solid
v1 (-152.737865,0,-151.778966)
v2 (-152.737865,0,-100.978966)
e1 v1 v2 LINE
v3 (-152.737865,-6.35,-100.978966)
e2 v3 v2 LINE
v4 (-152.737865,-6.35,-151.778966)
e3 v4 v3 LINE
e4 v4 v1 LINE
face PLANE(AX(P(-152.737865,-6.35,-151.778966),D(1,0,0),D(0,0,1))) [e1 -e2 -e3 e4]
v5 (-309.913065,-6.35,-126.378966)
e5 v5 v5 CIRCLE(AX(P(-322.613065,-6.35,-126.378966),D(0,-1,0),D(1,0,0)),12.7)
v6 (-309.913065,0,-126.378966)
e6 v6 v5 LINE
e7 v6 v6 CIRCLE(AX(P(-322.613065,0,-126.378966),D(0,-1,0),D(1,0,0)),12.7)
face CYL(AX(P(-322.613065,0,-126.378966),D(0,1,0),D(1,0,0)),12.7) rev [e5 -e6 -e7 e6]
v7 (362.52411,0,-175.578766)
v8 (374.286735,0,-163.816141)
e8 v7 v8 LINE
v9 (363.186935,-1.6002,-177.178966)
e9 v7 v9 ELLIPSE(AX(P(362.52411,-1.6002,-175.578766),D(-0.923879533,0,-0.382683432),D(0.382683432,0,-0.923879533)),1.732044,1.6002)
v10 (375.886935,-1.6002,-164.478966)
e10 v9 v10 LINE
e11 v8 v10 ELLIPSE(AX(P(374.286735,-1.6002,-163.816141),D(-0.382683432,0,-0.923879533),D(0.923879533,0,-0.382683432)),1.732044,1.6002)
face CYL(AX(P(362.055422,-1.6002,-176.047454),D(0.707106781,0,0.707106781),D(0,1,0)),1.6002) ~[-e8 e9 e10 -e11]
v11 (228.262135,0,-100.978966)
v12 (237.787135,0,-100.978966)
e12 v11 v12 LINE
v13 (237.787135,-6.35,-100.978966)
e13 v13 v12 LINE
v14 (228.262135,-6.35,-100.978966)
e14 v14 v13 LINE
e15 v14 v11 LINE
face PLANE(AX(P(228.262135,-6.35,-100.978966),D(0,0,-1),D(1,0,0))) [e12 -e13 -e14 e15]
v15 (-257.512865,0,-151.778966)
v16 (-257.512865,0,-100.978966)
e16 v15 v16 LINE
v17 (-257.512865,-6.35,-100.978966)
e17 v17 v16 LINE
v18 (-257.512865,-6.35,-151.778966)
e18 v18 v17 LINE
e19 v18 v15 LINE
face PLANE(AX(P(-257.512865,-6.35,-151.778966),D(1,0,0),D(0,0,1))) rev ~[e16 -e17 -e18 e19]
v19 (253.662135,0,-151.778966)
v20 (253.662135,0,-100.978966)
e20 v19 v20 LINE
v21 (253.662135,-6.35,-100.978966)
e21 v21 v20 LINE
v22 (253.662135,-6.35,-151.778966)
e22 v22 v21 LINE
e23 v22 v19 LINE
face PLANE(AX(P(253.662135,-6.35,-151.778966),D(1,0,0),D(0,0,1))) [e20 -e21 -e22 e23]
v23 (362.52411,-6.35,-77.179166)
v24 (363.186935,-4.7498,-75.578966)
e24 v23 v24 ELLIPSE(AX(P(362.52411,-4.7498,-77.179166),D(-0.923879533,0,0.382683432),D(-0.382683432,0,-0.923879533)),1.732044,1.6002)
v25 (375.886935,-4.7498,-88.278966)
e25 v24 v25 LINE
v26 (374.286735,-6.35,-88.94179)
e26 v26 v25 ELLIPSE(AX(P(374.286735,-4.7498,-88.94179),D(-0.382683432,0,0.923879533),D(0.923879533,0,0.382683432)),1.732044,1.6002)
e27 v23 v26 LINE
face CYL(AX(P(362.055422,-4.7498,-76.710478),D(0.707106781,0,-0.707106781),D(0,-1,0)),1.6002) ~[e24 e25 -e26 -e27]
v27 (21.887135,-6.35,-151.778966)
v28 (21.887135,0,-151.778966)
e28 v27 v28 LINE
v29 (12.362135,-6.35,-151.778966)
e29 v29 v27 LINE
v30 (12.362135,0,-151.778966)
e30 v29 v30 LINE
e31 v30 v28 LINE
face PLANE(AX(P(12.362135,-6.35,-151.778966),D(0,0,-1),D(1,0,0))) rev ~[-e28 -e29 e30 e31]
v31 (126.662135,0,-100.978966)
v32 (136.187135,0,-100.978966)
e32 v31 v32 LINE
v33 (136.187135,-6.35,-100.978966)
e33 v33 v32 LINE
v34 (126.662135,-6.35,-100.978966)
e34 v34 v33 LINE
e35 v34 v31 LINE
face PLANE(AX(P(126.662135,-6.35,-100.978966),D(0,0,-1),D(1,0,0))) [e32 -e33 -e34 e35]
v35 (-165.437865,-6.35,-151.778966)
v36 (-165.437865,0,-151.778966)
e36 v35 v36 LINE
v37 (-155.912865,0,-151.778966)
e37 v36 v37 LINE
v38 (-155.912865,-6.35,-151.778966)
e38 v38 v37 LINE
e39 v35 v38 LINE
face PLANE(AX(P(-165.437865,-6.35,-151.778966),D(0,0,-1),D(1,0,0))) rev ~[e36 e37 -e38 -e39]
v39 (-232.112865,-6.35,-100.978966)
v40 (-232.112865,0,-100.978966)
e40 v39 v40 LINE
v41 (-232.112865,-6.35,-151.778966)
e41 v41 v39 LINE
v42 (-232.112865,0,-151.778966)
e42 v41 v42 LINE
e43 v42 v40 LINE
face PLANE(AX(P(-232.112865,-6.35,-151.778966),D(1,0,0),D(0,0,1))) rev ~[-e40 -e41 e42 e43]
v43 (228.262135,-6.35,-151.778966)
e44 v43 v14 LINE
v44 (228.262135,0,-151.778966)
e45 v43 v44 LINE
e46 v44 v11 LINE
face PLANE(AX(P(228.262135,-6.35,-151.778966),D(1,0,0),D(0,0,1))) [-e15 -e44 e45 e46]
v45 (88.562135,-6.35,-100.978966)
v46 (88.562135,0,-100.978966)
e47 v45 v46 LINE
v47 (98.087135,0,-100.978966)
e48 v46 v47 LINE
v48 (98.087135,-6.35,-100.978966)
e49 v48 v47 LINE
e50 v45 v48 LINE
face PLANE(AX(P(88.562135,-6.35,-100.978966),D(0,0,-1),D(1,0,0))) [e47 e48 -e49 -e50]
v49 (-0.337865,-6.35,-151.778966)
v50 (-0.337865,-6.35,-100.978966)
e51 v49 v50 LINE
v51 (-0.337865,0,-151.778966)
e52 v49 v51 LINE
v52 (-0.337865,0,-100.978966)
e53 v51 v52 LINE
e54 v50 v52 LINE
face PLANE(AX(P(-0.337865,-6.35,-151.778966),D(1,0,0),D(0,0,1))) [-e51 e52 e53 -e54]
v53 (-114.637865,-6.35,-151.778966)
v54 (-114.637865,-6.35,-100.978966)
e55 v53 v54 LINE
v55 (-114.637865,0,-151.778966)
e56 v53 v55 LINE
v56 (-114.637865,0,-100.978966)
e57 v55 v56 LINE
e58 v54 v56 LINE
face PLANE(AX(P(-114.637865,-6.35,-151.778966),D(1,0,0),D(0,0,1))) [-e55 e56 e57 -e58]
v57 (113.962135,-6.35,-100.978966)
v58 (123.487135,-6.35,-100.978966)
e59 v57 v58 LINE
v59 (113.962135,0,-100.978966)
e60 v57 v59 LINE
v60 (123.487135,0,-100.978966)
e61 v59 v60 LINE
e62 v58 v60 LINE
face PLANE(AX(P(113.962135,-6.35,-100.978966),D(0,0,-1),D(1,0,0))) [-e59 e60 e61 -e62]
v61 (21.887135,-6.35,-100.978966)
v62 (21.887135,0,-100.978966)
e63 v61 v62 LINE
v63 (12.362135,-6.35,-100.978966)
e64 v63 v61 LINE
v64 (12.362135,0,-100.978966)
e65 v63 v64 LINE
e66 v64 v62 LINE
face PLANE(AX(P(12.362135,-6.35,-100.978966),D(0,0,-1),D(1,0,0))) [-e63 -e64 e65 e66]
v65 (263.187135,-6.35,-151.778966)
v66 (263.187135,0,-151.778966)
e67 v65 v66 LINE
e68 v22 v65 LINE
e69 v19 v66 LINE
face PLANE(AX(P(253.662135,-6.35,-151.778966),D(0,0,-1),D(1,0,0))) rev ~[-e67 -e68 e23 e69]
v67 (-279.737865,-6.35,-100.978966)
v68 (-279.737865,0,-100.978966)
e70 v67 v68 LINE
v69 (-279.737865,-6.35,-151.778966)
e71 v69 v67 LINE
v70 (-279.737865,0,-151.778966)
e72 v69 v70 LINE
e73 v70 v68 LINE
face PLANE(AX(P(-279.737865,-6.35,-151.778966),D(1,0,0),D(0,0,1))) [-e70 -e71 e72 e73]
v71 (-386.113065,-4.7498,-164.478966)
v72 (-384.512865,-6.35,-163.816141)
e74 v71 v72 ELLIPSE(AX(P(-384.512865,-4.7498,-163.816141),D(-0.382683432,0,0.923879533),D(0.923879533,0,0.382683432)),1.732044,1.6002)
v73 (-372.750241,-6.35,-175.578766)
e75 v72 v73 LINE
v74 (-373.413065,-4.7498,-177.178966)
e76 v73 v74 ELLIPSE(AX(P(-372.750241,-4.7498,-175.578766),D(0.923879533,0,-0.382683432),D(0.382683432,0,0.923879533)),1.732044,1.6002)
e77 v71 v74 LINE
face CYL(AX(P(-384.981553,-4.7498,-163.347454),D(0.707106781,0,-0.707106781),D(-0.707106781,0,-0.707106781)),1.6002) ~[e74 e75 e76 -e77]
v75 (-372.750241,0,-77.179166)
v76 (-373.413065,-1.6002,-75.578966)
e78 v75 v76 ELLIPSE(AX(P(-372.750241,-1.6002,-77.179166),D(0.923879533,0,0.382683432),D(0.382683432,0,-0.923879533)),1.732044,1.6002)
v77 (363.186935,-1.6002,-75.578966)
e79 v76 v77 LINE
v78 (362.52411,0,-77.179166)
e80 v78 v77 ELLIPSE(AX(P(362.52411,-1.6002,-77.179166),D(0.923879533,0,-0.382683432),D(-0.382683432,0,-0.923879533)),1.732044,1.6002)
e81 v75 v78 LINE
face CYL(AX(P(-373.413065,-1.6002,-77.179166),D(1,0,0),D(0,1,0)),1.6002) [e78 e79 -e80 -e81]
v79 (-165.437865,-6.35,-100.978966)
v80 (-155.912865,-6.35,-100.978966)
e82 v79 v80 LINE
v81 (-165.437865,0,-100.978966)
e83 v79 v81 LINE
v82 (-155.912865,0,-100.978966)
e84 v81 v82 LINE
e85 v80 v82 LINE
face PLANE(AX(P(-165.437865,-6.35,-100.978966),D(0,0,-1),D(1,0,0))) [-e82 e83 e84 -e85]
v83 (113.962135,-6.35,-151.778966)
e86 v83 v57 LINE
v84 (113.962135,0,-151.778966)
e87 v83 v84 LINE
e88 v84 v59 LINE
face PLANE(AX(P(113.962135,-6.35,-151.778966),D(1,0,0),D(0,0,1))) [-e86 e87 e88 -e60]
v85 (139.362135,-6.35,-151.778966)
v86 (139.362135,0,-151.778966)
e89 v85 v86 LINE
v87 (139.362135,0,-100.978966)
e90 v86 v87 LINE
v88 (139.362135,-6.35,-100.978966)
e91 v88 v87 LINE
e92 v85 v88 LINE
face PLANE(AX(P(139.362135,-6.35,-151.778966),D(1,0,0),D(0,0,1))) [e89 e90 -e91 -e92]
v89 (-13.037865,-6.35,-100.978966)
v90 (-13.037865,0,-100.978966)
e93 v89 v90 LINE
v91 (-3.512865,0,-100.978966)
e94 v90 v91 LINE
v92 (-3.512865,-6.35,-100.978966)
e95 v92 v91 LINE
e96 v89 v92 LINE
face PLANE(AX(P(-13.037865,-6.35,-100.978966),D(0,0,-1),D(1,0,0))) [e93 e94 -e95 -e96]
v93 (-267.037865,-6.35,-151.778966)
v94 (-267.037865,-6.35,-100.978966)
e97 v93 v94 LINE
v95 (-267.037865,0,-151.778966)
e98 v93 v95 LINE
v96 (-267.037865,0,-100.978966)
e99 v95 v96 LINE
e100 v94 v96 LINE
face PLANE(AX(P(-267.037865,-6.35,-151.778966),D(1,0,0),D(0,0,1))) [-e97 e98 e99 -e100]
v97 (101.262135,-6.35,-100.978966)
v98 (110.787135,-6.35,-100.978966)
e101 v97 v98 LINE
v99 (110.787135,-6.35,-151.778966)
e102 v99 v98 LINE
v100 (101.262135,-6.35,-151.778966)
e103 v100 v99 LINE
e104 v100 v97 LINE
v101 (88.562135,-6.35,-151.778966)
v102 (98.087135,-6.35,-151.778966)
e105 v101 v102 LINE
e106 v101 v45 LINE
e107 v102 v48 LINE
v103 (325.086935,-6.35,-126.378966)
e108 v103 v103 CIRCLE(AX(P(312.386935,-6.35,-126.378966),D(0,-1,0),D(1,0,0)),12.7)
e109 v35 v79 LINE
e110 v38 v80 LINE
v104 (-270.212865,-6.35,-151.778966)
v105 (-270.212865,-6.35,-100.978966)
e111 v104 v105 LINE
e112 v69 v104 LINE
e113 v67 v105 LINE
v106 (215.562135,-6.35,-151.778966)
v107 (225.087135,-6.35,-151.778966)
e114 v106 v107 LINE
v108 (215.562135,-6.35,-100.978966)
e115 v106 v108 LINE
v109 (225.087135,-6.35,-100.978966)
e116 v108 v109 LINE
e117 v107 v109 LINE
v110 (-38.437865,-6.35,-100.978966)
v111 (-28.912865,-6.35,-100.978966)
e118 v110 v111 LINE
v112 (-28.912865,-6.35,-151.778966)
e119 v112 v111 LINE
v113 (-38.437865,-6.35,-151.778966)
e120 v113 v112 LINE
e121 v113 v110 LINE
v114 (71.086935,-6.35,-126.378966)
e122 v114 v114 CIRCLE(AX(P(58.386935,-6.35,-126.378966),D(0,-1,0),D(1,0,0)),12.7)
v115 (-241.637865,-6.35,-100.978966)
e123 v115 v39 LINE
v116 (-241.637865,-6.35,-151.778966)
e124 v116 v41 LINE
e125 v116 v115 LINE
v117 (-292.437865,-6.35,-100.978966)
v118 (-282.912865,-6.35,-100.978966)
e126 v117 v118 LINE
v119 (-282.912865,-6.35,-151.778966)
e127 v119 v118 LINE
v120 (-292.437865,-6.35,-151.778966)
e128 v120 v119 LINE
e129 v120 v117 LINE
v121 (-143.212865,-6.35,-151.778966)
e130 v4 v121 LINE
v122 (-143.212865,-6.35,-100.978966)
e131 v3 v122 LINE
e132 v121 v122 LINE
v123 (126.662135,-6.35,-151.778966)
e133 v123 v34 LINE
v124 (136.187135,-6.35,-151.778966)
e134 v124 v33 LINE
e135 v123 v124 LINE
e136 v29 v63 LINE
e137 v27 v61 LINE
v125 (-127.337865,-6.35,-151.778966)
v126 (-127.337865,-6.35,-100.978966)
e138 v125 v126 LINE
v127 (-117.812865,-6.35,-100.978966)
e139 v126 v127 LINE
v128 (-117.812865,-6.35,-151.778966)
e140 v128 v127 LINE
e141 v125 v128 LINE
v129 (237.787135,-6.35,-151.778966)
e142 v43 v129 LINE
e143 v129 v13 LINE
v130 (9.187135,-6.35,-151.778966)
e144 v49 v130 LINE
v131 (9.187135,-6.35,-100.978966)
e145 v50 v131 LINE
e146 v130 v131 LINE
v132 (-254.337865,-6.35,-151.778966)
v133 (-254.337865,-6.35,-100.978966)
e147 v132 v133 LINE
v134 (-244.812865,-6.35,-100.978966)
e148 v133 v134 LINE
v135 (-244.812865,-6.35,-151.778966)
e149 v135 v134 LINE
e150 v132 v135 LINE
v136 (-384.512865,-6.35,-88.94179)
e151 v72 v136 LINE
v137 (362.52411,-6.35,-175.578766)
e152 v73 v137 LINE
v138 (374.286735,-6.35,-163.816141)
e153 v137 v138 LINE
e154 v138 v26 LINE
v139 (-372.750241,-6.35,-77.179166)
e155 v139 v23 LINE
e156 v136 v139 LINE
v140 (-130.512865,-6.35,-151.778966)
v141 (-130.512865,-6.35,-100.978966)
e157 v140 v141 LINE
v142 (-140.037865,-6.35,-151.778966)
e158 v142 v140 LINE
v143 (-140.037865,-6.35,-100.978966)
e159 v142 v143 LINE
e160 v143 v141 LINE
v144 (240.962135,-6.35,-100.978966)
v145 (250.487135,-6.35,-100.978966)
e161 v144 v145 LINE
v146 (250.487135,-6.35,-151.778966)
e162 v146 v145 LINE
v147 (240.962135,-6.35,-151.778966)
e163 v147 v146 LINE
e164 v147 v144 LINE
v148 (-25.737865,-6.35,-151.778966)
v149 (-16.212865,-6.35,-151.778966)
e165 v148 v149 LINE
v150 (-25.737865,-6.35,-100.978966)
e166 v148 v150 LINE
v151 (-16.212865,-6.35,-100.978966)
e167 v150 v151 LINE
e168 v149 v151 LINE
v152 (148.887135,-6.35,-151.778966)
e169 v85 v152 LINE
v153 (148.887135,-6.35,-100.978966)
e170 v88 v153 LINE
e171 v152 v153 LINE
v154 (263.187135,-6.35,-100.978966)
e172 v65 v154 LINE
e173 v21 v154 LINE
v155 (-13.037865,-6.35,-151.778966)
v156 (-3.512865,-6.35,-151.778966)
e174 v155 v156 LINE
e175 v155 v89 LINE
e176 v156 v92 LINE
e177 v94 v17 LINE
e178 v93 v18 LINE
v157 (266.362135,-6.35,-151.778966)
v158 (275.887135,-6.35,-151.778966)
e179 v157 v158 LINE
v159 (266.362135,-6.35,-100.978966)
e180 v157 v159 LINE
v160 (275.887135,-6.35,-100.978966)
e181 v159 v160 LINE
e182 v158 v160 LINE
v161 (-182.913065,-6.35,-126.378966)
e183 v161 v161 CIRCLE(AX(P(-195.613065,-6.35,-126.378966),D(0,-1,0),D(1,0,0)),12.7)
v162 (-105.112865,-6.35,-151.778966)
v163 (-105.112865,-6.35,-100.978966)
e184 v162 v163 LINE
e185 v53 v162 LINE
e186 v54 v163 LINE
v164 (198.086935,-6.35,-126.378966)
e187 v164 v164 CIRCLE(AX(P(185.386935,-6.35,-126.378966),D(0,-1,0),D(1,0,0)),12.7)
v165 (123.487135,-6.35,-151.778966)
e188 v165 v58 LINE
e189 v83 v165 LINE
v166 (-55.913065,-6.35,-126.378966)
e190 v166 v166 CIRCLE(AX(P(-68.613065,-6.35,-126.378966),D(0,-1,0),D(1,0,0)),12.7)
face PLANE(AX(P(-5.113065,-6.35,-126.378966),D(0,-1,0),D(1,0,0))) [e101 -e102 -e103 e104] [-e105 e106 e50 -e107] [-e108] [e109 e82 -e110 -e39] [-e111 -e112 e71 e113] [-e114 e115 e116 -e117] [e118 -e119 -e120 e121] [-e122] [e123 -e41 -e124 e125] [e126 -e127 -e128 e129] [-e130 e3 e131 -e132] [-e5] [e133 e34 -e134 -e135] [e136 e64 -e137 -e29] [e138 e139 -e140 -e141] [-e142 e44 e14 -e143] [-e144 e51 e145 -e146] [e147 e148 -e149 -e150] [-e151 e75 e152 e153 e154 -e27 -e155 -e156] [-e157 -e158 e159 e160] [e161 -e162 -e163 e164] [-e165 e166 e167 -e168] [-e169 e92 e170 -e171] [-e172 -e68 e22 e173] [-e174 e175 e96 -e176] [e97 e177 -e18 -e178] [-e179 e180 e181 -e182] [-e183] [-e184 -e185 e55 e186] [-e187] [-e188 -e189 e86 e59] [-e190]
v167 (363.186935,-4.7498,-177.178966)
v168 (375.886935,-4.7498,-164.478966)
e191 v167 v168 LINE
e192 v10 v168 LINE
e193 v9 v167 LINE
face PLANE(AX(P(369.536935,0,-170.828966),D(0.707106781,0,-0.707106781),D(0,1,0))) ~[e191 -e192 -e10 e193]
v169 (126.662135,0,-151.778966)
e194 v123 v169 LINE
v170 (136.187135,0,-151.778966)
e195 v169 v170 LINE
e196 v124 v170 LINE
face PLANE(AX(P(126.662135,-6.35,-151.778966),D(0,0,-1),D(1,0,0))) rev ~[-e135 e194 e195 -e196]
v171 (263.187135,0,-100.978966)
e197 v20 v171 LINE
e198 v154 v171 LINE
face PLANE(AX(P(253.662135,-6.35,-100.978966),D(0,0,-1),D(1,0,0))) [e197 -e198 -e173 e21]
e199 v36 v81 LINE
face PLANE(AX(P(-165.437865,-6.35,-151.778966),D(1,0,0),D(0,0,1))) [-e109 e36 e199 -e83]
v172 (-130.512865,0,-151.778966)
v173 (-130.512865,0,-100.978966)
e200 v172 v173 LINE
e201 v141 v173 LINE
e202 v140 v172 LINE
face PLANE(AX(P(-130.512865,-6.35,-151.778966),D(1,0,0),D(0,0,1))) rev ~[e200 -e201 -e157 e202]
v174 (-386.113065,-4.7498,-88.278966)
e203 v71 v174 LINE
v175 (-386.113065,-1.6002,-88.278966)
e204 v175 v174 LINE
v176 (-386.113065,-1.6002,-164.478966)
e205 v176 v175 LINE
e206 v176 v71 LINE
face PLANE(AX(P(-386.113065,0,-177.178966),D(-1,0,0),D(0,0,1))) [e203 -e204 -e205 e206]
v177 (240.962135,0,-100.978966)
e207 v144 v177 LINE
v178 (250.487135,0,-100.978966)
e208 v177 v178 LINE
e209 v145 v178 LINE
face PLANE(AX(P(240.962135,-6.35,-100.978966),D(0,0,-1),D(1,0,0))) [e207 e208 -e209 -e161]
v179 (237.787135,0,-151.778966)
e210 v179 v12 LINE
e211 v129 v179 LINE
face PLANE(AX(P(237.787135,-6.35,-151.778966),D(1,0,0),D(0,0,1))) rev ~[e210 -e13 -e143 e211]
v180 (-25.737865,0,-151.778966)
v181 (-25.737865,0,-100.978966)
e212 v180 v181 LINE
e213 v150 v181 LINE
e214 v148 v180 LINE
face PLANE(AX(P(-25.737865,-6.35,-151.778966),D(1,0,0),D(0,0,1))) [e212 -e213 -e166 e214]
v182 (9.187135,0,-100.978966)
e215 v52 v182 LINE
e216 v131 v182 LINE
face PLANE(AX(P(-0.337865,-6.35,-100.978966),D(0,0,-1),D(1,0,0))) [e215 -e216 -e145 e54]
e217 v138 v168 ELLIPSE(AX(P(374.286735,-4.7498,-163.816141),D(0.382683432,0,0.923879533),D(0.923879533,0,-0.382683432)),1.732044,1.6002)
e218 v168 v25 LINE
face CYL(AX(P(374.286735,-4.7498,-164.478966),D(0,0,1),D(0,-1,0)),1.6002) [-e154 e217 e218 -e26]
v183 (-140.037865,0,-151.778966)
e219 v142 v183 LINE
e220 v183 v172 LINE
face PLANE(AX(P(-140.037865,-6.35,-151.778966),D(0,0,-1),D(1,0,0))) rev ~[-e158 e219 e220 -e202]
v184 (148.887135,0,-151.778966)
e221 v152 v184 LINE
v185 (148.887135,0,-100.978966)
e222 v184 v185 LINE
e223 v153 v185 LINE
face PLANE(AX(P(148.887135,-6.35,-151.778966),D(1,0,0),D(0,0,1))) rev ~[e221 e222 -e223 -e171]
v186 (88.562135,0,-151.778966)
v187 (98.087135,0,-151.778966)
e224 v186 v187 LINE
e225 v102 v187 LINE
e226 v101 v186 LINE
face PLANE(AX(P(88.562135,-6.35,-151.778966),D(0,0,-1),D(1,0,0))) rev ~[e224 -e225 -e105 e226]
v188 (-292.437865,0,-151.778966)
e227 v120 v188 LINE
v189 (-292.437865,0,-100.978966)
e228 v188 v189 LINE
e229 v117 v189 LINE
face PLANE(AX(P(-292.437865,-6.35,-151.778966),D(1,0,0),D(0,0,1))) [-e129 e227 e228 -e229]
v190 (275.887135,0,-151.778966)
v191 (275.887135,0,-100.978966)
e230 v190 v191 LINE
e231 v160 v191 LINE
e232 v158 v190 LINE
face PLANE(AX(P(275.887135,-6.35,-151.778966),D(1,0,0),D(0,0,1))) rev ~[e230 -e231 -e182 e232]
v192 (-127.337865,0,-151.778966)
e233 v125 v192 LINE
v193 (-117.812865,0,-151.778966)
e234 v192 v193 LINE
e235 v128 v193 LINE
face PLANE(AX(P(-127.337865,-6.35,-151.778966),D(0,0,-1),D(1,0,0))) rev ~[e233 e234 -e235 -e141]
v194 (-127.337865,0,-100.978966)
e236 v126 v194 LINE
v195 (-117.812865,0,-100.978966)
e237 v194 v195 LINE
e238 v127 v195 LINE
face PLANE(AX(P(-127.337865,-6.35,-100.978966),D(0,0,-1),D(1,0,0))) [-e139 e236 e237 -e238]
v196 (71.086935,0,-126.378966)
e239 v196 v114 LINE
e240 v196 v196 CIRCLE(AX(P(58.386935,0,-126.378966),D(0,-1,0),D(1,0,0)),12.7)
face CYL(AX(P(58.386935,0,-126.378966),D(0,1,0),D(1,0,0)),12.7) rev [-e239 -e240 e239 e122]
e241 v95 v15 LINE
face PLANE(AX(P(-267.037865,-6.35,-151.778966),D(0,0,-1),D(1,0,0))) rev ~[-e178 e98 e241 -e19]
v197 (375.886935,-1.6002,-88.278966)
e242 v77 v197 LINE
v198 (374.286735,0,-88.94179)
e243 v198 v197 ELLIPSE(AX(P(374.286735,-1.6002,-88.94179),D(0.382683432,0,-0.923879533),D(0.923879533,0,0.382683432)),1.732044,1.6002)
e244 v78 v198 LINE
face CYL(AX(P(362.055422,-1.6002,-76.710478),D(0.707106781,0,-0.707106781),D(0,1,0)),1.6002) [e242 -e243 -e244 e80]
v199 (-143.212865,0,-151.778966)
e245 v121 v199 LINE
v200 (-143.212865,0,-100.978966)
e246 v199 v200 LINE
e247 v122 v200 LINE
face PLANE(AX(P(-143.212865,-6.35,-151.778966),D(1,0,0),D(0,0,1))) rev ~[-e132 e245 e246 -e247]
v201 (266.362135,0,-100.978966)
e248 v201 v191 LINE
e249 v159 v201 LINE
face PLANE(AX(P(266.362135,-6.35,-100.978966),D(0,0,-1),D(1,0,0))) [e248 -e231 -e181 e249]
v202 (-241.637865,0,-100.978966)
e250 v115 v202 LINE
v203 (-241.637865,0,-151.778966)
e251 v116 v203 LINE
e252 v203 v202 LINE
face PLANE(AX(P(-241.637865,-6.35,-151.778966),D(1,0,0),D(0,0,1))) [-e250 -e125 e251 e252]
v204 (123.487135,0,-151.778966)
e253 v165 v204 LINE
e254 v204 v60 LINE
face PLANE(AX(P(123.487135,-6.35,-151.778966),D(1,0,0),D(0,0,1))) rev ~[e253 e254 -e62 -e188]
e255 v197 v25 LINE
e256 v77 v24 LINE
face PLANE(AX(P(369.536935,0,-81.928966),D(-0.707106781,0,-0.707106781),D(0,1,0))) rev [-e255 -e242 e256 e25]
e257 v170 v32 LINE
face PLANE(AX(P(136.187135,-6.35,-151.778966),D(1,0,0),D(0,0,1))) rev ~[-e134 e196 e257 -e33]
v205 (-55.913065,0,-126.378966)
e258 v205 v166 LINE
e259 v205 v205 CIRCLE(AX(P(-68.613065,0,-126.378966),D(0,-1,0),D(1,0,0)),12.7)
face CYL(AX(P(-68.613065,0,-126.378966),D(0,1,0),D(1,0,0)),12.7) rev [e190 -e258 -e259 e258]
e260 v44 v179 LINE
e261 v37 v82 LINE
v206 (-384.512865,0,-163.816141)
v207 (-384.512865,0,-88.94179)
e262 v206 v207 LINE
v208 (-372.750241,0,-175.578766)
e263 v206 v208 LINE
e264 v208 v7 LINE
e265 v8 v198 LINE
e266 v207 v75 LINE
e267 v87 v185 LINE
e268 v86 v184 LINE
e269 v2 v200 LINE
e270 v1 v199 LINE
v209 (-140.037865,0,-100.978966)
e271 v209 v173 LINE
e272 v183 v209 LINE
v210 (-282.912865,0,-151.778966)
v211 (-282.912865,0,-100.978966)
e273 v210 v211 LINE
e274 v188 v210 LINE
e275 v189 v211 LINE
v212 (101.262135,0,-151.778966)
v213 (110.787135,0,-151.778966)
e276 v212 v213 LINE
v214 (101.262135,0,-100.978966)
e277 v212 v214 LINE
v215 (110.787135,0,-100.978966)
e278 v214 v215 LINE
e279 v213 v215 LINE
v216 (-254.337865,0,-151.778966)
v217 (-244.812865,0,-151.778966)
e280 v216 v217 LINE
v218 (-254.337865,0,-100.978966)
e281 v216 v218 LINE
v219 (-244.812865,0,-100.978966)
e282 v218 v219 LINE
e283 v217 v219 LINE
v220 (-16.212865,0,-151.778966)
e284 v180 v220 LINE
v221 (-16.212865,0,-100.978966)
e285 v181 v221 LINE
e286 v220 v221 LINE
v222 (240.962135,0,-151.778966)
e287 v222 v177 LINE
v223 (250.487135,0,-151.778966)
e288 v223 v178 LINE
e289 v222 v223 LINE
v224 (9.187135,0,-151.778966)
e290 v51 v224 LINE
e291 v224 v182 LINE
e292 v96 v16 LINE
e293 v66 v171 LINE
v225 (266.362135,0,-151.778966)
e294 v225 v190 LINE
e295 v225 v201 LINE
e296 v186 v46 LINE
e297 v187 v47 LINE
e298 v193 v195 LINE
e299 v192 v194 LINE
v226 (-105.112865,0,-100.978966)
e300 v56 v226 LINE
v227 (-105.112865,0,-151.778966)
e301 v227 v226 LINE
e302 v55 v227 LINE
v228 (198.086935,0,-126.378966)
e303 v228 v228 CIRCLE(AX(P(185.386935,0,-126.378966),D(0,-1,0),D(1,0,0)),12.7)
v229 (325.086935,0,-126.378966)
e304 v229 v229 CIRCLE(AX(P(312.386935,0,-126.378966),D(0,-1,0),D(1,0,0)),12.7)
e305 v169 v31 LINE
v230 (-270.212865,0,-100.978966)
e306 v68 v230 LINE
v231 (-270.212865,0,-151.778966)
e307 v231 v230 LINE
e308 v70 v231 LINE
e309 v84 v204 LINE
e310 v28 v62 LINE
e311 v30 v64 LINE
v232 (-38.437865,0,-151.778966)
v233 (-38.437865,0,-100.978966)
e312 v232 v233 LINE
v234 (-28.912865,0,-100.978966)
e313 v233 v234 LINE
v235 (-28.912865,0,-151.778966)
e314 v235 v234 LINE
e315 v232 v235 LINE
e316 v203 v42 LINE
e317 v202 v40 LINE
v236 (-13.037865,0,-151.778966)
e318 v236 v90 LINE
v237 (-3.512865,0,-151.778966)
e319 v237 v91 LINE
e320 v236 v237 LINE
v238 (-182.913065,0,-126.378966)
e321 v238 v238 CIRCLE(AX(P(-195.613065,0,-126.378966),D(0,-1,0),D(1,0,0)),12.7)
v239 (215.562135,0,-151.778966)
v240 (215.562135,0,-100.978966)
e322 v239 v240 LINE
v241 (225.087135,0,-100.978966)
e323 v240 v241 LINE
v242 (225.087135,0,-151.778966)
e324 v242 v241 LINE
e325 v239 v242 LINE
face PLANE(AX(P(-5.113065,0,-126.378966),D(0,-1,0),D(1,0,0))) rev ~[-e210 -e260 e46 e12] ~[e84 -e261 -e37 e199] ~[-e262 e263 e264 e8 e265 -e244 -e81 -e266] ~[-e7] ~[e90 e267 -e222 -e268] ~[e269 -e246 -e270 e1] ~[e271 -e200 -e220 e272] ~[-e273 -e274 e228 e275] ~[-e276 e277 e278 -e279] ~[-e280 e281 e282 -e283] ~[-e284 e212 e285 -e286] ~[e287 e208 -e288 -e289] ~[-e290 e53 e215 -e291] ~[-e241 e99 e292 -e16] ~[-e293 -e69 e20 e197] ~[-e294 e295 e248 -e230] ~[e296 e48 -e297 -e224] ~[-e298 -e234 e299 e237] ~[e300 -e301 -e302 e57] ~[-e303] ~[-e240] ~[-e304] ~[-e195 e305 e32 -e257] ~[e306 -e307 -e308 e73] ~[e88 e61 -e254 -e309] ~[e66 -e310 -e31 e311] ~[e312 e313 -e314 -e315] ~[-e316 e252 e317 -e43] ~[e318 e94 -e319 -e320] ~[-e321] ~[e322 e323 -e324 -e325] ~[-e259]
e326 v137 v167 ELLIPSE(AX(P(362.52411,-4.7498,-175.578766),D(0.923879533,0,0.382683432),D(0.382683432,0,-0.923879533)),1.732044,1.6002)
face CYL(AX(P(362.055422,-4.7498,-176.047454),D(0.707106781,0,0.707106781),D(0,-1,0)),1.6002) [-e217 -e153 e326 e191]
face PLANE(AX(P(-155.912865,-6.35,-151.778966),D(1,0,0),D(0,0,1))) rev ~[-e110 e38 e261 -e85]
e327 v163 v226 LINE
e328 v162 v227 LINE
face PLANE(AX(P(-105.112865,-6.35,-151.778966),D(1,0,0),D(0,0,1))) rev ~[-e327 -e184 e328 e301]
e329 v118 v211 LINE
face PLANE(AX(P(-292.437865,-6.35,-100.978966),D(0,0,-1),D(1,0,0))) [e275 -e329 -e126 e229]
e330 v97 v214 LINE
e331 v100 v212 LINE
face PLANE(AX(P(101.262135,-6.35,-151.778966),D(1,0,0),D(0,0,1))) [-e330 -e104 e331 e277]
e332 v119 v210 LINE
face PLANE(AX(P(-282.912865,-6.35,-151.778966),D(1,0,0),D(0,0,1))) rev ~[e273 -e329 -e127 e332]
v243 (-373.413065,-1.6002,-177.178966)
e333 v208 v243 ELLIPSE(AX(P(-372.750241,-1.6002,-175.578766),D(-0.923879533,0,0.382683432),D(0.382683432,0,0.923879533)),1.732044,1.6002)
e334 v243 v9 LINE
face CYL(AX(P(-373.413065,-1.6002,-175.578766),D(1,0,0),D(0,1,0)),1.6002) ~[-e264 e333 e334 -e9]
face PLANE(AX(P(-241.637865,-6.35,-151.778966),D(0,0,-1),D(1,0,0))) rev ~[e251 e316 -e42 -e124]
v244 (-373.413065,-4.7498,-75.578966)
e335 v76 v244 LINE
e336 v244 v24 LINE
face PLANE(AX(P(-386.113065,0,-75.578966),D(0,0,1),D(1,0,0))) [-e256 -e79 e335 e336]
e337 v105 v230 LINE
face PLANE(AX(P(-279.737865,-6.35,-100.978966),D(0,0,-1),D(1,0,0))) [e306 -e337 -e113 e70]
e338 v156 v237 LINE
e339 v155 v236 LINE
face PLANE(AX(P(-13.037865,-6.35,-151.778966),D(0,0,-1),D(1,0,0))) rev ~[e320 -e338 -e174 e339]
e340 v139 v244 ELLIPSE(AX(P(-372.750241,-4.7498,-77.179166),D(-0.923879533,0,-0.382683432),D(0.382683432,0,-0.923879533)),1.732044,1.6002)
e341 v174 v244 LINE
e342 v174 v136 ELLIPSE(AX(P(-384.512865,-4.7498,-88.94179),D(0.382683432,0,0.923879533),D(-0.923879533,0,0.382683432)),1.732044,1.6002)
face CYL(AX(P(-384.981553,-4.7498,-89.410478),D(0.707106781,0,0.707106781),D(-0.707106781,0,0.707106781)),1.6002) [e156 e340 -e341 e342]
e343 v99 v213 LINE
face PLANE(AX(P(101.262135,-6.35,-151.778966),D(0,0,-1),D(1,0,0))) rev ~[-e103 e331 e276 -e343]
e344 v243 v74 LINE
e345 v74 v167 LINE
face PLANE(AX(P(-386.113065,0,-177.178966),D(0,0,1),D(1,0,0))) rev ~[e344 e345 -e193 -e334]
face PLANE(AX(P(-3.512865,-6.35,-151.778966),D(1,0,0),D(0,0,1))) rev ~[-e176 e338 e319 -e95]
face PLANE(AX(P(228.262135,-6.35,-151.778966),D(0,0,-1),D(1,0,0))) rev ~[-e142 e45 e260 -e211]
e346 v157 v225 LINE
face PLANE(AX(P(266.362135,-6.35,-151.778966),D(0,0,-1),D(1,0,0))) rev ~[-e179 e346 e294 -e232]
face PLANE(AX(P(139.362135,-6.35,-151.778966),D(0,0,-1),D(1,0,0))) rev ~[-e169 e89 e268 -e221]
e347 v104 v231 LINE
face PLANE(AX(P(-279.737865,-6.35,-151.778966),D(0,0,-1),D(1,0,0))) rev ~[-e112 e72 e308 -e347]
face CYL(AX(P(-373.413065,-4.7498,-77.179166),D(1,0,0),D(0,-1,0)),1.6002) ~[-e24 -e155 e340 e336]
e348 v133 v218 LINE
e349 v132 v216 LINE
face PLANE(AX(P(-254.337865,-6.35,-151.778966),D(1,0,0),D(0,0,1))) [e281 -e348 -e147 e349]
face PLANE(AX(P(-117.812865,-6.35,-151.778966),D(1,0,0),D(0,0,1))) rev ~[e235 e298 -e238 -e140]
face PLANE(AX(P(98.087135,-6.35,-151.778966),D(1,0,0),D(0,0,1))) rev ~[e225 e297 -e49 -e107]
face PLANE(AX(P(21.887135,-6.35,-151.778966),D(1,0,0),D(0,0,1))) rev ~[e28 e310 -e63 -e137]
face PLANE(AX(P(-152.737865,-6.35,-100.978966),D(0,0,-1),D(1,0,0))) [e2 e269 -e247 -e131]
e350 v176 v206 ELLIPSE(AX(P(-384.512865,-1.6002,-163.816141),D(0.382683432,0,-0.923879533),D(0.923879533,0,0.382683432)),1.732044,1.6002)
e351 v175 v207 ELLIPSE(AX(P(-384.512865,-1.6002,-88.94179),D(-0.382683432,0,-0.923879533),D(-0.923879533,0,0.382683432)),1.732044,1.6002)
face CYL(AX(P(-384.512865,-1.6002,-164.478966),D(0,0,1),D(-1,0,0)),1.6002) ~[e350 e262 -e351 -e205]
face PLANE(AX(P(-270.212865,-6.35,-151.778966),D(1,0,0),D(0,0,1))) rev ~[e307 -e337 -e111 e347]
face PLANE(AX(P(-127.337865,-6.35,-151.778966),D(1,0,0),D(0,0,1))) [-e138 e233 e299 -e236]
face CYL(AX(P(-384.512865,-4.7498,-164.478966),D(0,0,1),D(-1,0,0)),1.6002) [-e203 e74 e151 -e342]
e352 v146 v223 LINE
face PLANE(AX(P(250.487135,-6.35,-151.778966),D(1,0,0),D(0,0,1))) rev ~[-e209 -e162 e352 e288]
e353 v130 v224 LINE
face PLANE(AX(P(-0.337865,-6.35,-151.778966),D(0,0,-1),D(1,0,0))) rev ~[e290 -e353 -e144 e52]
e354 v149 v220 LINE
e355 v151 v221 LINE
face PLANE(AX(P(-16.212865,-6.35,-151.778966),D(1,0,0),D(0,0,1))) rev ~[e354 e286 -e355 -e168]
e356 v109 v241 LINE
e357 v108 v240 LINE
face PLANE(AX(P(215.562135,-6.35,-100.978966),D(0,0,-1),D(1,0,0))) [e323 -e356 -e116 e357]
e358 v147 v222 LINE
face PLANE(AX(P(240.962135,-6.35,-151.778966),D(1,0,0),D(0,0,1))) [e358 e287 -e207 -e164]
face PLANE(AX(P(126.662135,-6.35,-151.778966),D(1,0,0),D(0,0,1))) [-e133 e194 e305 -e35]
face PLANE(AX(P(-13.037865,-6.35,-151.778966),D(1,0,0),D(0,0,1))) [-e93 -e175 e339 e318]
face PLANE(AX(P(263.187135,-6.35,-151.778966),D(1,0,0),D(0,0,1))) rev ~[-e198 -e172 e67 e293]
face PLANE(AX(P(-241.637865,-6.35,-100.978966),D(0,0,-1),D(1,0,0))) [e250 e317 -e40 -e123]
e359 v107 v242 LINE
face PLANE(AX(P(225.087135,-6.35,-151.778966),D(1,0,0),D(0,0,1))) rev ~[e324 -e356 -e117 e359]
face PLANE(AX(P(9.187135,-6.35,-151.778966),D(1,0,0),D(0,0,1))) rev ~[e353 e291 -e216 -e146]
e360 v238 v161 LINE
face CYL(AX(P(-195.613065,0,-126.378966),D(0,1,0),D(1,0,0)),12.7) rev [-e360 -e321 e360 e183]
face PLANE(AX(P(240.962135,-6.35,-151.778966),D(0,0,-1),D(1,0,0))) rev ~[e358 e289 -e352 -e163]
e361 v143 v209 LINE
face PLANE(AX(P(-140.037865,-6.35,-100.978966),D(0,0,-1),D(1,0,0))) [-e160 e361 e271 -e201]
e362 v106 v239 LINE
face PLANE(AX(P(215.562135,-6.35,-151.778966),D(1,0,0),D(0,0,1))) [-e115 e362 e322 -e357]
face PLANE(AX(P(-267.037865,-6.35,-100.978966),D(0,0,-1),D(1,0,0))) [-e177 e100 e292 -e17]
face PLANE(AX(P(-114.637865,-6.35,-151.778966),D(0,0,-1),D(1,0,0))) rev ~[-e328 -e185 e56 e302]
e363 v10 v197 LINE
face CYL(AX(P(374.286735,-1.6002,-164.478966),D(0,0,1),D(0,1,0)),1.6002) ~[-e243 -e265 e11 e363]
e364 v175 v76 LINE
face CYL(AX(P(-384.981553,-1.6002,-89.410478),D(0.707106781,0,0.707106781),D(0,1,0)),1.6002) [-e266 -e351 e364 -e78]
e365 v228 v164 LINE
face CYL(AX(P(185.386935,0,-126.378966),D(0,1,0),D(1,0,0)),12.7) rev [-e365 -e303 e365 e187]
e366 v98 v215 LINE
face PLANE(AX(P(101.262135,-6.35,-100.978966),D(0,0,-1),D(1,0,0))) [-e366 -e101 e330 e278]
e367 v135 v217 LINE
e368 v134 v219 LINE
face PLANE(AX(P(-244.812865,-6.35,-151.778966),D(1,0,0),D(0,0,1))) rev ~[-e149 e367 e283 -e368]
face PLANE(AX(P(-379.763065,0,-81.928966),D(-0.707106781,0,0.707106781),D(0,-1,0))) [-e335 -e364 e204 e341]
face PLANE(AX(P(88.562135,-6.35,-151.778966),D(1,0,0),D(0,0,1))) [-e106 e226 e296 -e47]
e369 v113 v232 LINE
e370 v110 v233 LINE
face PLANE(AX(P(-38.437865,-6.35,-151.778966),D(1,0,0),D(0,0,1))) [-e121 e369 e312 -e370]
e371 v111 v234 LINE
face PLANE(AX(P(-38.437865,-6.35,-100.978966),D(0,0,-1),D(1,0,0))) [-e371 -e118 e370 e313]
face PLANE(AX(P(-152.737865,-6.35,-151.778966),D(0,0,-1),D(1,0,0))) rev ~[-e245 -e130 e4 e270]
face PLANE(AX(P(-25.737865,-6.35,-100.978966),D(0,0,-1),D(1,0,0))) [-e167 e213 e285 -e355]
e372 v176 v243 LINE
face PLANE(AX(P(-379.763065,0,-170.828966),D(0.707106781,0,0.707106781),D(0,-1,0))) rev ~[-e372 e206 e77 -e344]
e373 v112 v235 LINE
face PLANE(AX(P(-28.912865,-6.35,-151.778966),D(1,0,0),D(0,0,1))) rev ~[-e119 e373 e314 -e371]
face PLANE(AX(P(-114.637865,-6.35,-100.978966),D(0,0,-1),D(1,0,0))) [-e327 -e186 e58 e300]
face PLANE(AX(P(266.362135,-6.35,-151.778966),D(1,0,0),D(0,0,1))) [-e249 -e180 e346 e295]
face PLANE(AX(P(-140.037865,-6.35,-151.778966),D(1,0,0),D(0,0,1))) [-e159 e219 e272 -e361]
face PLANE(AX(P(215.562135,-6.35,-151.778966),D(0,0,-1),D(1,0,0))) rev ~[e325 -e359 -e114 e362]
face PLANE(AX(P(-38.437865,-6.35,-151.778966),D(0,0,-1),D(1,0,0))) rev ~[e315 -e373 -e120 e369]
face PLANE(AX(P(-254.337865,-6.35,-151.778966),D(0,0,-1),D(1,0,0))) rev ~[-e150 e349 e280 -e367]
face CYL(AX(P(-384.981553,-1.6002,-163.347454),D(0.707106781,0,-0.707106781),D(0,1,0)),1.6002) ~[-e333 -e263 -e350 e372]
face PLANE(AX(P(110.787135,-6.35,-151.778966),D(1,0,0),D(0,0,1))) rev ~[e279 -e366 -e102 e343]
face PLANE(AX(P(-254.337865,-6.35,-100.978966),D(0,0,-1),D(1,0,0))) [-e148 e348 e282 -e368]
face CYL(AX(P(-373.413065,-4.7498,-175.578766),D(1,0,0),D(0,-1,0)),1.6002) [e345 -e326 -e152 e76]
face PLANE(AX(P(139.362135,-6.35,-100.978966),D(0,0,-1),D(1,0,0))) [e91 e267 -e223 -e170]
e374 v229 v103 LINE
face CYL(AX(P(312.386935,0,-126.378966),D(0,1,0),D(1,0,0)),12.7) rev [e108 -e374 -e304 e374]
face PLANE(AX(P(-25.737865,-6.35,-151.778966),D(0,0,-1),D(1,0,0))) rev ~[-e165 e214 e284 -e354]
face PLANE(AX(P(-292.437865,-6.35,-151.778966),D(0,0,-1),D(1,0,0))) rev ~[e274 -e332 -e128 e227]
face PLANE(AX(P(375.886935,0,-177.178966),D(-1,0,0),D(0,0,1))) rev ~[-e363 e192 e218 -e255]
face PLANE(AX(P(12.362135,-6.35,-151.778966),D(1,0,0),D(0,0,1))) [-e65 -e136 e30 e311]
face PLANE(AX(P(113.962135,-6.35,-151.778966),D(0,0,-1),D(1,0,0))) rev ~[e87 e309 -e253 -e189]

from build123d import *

# Parameters (mm, degrees)
F0_W     = 762
F0_H     = 101.6
F0_R     = 12.7
F1_DEPTH = 6.35
F2_W     = 9.525
F2_H     = 50.8
F3_DEPTH = 6.351
F4_SIZE  = 12.7
F5_R     = 1.6002


with BuildPart() as f1:
    # F0 (on Front) → F1 (new body)
    with BuildSketch(Plane.XZ):
        with Locations((-5.1130652428, -126.3789658944)):
            Rectangle(F0_W, F0_H)
        with Locations((-322.6130652428, -126.3789658944)):
            Circle(F0_R, mode=Mode.SUBTRACT)
        with Locations((-195.6130652428, -126.3789658944)):
            Circle(F0_R, mode=Mode.SUBTRACT)
        with Locations((-68.6130652428, -126.3789658944)):
            Circle(F0_R, mode=Mode.SUBTRACT)
        with Locations((58.3869347572, -126.3789658944)):
            Circle(F0_R, mode=Mode.SUBTRACT)
        with Locations((185.3869347572, -126.3789658944)):
            Circle(F0_R, mode=Mode.SUBTRACT)
        with Locations((312.3869347572, -126.3789658944)):
            Circle(F0_R, mode=Mode.SUBTRACT)
    extrude(amount=F1_DEPTH)

    # F2 (on face) → F3 (cut, through all)
    with BuildSketch(Plane.XZ.offset(6.35)):
        with Locations((-287.6753652428, -126.3789658944)):
            Rectangle(F2_W, F2_H)
        with Locations((-274.9753652428, -126.3789658944)):
            Rectangle(F2_W, F2_H)
        with Locations((-262.2753652428, -126.3789658944)):
            Rectangle(F2_W, F2_H)
        with Locations((-249.5753652428, -126.3789658944)):
            Rectangle(F2_W, F2_H)
        with Locations((-236.8753652428, -126.3789658944)):
            Rectangle(F2_W, F2_H)
        with Locations((-160.6753652428, -126.3789658944)):
            Rectangle(F2_W, F2_H)
        with Locations((-147.9753652428, -126.3789658944)):
            Rectangle(F2_W, F2_H)
        with Locations((-135.2753652428, -126.3789658944)):
            Rectangle(F2_W, F2_H)
        with Locations((-122.5753652428, -126.3789658944)):
            Rectangle(F2_W, F2_H)
        with Locations((-109.8753652428, -126.3789658944)):
            Rectangle(F2_W, F2_H)
        with Locations((-33.6753652428, -126.3789658944)):
            Rectangle(F2_W, F2_H)
        with Locations((-20.9753652428, -126.3789658944)):
            Rectangle(F2_W, F2_H)
        with Locations((-8.2753652428, -126.3789658944)):
            Rectangle(F2_W, F2_H)
        with Locations((4.4246347572, -126.3789658944)):
            Rectangle(F2_W, F2_H)
        with Locations((17.1246347572, -126.3789658944)):
            Rectangle(F2_W, F2_H)
        with Locations((93.3246347572, -126.3789658944)):
            Rectangle(F2_W, F2_H)
        with Locations((106.0246347572, -126.3789658944)):
            Rectangle(F2_W, F2_H)
        with Locations((118.7246347572, -126.3789658944)):
            Rectangle(F2_W, F2_H)
        with Locations((131.4246347572, -126.3789658944)):
            Rectangle(F2_W, F2_H)
        with Locations((144.1246347572, -126.3789658944)):
            Rectangle(F2_W, F2_H)
        with Locations((220.3246347572, -126.3789658944)):
            Rectangle(F2_W, F2_H)
        with Locations((233.0246347572, -126.3789658944)):
            Rectangle(F2_W, F2_H)
        with Locations((245.7246347572, -126.3789658944)):
            Rectangle(F2_W, F2_H)
        with Locations((258.4246347572, -126.3789658944)):
            Rectangle(F2_W, F2_H)
        with Locations((271.1246347572, -126.3789658944)):
            Rectangle(F2_W, F2_H)
    extrude(amount=-F3_DEPTH, mode=Mode.SUBTRACT)

    # F4
    f4_edges = [f1.edges().sort_by_distance(p)[0] for p in [
        (-386.113065, -3.175, -75.578966),
        (-386.113065, -3.175, -177.178966),
        (375.886935, -3.175, -75.578966),
        (375.886935, -3.175, -177.178966),
    ]]
    chamfer(f4_edges, length=F4_SIZE)

    # F5
    f5_edges = [f1.edges().sort_by_distance(p)[0] for p in [
        (-5.113065, -6.35, -177.178966),
        (-5.113065, 0, -177.178966),
        (369.536935, -6.35, -170.828966),
        (375.886935, -6.35, -126.378966),
        (369.536935, 0, -170.828966),
        (375.886935, 0, -126.378966),
        (369.536935, -6.35, -81.928966),
        (369.536935, 0, -81.928966),
        (-5.113065, -6.35, -75.578966),
        (-5.113065, 0, -75.578966),
        (-386.113065, -6.35, -126.378966),
        (-386.113065, 0, -126.378966),
        (-379.763065, -6.35, -170.828966),
        (-379.763065, 0, -170.828966),
        (-379.763065, -6.35, -81.928966),
        (-379.763065, 0, -81.928966),
    ]]
    fillet(f5_edges, radius=F5_R)


solid = f1.part
